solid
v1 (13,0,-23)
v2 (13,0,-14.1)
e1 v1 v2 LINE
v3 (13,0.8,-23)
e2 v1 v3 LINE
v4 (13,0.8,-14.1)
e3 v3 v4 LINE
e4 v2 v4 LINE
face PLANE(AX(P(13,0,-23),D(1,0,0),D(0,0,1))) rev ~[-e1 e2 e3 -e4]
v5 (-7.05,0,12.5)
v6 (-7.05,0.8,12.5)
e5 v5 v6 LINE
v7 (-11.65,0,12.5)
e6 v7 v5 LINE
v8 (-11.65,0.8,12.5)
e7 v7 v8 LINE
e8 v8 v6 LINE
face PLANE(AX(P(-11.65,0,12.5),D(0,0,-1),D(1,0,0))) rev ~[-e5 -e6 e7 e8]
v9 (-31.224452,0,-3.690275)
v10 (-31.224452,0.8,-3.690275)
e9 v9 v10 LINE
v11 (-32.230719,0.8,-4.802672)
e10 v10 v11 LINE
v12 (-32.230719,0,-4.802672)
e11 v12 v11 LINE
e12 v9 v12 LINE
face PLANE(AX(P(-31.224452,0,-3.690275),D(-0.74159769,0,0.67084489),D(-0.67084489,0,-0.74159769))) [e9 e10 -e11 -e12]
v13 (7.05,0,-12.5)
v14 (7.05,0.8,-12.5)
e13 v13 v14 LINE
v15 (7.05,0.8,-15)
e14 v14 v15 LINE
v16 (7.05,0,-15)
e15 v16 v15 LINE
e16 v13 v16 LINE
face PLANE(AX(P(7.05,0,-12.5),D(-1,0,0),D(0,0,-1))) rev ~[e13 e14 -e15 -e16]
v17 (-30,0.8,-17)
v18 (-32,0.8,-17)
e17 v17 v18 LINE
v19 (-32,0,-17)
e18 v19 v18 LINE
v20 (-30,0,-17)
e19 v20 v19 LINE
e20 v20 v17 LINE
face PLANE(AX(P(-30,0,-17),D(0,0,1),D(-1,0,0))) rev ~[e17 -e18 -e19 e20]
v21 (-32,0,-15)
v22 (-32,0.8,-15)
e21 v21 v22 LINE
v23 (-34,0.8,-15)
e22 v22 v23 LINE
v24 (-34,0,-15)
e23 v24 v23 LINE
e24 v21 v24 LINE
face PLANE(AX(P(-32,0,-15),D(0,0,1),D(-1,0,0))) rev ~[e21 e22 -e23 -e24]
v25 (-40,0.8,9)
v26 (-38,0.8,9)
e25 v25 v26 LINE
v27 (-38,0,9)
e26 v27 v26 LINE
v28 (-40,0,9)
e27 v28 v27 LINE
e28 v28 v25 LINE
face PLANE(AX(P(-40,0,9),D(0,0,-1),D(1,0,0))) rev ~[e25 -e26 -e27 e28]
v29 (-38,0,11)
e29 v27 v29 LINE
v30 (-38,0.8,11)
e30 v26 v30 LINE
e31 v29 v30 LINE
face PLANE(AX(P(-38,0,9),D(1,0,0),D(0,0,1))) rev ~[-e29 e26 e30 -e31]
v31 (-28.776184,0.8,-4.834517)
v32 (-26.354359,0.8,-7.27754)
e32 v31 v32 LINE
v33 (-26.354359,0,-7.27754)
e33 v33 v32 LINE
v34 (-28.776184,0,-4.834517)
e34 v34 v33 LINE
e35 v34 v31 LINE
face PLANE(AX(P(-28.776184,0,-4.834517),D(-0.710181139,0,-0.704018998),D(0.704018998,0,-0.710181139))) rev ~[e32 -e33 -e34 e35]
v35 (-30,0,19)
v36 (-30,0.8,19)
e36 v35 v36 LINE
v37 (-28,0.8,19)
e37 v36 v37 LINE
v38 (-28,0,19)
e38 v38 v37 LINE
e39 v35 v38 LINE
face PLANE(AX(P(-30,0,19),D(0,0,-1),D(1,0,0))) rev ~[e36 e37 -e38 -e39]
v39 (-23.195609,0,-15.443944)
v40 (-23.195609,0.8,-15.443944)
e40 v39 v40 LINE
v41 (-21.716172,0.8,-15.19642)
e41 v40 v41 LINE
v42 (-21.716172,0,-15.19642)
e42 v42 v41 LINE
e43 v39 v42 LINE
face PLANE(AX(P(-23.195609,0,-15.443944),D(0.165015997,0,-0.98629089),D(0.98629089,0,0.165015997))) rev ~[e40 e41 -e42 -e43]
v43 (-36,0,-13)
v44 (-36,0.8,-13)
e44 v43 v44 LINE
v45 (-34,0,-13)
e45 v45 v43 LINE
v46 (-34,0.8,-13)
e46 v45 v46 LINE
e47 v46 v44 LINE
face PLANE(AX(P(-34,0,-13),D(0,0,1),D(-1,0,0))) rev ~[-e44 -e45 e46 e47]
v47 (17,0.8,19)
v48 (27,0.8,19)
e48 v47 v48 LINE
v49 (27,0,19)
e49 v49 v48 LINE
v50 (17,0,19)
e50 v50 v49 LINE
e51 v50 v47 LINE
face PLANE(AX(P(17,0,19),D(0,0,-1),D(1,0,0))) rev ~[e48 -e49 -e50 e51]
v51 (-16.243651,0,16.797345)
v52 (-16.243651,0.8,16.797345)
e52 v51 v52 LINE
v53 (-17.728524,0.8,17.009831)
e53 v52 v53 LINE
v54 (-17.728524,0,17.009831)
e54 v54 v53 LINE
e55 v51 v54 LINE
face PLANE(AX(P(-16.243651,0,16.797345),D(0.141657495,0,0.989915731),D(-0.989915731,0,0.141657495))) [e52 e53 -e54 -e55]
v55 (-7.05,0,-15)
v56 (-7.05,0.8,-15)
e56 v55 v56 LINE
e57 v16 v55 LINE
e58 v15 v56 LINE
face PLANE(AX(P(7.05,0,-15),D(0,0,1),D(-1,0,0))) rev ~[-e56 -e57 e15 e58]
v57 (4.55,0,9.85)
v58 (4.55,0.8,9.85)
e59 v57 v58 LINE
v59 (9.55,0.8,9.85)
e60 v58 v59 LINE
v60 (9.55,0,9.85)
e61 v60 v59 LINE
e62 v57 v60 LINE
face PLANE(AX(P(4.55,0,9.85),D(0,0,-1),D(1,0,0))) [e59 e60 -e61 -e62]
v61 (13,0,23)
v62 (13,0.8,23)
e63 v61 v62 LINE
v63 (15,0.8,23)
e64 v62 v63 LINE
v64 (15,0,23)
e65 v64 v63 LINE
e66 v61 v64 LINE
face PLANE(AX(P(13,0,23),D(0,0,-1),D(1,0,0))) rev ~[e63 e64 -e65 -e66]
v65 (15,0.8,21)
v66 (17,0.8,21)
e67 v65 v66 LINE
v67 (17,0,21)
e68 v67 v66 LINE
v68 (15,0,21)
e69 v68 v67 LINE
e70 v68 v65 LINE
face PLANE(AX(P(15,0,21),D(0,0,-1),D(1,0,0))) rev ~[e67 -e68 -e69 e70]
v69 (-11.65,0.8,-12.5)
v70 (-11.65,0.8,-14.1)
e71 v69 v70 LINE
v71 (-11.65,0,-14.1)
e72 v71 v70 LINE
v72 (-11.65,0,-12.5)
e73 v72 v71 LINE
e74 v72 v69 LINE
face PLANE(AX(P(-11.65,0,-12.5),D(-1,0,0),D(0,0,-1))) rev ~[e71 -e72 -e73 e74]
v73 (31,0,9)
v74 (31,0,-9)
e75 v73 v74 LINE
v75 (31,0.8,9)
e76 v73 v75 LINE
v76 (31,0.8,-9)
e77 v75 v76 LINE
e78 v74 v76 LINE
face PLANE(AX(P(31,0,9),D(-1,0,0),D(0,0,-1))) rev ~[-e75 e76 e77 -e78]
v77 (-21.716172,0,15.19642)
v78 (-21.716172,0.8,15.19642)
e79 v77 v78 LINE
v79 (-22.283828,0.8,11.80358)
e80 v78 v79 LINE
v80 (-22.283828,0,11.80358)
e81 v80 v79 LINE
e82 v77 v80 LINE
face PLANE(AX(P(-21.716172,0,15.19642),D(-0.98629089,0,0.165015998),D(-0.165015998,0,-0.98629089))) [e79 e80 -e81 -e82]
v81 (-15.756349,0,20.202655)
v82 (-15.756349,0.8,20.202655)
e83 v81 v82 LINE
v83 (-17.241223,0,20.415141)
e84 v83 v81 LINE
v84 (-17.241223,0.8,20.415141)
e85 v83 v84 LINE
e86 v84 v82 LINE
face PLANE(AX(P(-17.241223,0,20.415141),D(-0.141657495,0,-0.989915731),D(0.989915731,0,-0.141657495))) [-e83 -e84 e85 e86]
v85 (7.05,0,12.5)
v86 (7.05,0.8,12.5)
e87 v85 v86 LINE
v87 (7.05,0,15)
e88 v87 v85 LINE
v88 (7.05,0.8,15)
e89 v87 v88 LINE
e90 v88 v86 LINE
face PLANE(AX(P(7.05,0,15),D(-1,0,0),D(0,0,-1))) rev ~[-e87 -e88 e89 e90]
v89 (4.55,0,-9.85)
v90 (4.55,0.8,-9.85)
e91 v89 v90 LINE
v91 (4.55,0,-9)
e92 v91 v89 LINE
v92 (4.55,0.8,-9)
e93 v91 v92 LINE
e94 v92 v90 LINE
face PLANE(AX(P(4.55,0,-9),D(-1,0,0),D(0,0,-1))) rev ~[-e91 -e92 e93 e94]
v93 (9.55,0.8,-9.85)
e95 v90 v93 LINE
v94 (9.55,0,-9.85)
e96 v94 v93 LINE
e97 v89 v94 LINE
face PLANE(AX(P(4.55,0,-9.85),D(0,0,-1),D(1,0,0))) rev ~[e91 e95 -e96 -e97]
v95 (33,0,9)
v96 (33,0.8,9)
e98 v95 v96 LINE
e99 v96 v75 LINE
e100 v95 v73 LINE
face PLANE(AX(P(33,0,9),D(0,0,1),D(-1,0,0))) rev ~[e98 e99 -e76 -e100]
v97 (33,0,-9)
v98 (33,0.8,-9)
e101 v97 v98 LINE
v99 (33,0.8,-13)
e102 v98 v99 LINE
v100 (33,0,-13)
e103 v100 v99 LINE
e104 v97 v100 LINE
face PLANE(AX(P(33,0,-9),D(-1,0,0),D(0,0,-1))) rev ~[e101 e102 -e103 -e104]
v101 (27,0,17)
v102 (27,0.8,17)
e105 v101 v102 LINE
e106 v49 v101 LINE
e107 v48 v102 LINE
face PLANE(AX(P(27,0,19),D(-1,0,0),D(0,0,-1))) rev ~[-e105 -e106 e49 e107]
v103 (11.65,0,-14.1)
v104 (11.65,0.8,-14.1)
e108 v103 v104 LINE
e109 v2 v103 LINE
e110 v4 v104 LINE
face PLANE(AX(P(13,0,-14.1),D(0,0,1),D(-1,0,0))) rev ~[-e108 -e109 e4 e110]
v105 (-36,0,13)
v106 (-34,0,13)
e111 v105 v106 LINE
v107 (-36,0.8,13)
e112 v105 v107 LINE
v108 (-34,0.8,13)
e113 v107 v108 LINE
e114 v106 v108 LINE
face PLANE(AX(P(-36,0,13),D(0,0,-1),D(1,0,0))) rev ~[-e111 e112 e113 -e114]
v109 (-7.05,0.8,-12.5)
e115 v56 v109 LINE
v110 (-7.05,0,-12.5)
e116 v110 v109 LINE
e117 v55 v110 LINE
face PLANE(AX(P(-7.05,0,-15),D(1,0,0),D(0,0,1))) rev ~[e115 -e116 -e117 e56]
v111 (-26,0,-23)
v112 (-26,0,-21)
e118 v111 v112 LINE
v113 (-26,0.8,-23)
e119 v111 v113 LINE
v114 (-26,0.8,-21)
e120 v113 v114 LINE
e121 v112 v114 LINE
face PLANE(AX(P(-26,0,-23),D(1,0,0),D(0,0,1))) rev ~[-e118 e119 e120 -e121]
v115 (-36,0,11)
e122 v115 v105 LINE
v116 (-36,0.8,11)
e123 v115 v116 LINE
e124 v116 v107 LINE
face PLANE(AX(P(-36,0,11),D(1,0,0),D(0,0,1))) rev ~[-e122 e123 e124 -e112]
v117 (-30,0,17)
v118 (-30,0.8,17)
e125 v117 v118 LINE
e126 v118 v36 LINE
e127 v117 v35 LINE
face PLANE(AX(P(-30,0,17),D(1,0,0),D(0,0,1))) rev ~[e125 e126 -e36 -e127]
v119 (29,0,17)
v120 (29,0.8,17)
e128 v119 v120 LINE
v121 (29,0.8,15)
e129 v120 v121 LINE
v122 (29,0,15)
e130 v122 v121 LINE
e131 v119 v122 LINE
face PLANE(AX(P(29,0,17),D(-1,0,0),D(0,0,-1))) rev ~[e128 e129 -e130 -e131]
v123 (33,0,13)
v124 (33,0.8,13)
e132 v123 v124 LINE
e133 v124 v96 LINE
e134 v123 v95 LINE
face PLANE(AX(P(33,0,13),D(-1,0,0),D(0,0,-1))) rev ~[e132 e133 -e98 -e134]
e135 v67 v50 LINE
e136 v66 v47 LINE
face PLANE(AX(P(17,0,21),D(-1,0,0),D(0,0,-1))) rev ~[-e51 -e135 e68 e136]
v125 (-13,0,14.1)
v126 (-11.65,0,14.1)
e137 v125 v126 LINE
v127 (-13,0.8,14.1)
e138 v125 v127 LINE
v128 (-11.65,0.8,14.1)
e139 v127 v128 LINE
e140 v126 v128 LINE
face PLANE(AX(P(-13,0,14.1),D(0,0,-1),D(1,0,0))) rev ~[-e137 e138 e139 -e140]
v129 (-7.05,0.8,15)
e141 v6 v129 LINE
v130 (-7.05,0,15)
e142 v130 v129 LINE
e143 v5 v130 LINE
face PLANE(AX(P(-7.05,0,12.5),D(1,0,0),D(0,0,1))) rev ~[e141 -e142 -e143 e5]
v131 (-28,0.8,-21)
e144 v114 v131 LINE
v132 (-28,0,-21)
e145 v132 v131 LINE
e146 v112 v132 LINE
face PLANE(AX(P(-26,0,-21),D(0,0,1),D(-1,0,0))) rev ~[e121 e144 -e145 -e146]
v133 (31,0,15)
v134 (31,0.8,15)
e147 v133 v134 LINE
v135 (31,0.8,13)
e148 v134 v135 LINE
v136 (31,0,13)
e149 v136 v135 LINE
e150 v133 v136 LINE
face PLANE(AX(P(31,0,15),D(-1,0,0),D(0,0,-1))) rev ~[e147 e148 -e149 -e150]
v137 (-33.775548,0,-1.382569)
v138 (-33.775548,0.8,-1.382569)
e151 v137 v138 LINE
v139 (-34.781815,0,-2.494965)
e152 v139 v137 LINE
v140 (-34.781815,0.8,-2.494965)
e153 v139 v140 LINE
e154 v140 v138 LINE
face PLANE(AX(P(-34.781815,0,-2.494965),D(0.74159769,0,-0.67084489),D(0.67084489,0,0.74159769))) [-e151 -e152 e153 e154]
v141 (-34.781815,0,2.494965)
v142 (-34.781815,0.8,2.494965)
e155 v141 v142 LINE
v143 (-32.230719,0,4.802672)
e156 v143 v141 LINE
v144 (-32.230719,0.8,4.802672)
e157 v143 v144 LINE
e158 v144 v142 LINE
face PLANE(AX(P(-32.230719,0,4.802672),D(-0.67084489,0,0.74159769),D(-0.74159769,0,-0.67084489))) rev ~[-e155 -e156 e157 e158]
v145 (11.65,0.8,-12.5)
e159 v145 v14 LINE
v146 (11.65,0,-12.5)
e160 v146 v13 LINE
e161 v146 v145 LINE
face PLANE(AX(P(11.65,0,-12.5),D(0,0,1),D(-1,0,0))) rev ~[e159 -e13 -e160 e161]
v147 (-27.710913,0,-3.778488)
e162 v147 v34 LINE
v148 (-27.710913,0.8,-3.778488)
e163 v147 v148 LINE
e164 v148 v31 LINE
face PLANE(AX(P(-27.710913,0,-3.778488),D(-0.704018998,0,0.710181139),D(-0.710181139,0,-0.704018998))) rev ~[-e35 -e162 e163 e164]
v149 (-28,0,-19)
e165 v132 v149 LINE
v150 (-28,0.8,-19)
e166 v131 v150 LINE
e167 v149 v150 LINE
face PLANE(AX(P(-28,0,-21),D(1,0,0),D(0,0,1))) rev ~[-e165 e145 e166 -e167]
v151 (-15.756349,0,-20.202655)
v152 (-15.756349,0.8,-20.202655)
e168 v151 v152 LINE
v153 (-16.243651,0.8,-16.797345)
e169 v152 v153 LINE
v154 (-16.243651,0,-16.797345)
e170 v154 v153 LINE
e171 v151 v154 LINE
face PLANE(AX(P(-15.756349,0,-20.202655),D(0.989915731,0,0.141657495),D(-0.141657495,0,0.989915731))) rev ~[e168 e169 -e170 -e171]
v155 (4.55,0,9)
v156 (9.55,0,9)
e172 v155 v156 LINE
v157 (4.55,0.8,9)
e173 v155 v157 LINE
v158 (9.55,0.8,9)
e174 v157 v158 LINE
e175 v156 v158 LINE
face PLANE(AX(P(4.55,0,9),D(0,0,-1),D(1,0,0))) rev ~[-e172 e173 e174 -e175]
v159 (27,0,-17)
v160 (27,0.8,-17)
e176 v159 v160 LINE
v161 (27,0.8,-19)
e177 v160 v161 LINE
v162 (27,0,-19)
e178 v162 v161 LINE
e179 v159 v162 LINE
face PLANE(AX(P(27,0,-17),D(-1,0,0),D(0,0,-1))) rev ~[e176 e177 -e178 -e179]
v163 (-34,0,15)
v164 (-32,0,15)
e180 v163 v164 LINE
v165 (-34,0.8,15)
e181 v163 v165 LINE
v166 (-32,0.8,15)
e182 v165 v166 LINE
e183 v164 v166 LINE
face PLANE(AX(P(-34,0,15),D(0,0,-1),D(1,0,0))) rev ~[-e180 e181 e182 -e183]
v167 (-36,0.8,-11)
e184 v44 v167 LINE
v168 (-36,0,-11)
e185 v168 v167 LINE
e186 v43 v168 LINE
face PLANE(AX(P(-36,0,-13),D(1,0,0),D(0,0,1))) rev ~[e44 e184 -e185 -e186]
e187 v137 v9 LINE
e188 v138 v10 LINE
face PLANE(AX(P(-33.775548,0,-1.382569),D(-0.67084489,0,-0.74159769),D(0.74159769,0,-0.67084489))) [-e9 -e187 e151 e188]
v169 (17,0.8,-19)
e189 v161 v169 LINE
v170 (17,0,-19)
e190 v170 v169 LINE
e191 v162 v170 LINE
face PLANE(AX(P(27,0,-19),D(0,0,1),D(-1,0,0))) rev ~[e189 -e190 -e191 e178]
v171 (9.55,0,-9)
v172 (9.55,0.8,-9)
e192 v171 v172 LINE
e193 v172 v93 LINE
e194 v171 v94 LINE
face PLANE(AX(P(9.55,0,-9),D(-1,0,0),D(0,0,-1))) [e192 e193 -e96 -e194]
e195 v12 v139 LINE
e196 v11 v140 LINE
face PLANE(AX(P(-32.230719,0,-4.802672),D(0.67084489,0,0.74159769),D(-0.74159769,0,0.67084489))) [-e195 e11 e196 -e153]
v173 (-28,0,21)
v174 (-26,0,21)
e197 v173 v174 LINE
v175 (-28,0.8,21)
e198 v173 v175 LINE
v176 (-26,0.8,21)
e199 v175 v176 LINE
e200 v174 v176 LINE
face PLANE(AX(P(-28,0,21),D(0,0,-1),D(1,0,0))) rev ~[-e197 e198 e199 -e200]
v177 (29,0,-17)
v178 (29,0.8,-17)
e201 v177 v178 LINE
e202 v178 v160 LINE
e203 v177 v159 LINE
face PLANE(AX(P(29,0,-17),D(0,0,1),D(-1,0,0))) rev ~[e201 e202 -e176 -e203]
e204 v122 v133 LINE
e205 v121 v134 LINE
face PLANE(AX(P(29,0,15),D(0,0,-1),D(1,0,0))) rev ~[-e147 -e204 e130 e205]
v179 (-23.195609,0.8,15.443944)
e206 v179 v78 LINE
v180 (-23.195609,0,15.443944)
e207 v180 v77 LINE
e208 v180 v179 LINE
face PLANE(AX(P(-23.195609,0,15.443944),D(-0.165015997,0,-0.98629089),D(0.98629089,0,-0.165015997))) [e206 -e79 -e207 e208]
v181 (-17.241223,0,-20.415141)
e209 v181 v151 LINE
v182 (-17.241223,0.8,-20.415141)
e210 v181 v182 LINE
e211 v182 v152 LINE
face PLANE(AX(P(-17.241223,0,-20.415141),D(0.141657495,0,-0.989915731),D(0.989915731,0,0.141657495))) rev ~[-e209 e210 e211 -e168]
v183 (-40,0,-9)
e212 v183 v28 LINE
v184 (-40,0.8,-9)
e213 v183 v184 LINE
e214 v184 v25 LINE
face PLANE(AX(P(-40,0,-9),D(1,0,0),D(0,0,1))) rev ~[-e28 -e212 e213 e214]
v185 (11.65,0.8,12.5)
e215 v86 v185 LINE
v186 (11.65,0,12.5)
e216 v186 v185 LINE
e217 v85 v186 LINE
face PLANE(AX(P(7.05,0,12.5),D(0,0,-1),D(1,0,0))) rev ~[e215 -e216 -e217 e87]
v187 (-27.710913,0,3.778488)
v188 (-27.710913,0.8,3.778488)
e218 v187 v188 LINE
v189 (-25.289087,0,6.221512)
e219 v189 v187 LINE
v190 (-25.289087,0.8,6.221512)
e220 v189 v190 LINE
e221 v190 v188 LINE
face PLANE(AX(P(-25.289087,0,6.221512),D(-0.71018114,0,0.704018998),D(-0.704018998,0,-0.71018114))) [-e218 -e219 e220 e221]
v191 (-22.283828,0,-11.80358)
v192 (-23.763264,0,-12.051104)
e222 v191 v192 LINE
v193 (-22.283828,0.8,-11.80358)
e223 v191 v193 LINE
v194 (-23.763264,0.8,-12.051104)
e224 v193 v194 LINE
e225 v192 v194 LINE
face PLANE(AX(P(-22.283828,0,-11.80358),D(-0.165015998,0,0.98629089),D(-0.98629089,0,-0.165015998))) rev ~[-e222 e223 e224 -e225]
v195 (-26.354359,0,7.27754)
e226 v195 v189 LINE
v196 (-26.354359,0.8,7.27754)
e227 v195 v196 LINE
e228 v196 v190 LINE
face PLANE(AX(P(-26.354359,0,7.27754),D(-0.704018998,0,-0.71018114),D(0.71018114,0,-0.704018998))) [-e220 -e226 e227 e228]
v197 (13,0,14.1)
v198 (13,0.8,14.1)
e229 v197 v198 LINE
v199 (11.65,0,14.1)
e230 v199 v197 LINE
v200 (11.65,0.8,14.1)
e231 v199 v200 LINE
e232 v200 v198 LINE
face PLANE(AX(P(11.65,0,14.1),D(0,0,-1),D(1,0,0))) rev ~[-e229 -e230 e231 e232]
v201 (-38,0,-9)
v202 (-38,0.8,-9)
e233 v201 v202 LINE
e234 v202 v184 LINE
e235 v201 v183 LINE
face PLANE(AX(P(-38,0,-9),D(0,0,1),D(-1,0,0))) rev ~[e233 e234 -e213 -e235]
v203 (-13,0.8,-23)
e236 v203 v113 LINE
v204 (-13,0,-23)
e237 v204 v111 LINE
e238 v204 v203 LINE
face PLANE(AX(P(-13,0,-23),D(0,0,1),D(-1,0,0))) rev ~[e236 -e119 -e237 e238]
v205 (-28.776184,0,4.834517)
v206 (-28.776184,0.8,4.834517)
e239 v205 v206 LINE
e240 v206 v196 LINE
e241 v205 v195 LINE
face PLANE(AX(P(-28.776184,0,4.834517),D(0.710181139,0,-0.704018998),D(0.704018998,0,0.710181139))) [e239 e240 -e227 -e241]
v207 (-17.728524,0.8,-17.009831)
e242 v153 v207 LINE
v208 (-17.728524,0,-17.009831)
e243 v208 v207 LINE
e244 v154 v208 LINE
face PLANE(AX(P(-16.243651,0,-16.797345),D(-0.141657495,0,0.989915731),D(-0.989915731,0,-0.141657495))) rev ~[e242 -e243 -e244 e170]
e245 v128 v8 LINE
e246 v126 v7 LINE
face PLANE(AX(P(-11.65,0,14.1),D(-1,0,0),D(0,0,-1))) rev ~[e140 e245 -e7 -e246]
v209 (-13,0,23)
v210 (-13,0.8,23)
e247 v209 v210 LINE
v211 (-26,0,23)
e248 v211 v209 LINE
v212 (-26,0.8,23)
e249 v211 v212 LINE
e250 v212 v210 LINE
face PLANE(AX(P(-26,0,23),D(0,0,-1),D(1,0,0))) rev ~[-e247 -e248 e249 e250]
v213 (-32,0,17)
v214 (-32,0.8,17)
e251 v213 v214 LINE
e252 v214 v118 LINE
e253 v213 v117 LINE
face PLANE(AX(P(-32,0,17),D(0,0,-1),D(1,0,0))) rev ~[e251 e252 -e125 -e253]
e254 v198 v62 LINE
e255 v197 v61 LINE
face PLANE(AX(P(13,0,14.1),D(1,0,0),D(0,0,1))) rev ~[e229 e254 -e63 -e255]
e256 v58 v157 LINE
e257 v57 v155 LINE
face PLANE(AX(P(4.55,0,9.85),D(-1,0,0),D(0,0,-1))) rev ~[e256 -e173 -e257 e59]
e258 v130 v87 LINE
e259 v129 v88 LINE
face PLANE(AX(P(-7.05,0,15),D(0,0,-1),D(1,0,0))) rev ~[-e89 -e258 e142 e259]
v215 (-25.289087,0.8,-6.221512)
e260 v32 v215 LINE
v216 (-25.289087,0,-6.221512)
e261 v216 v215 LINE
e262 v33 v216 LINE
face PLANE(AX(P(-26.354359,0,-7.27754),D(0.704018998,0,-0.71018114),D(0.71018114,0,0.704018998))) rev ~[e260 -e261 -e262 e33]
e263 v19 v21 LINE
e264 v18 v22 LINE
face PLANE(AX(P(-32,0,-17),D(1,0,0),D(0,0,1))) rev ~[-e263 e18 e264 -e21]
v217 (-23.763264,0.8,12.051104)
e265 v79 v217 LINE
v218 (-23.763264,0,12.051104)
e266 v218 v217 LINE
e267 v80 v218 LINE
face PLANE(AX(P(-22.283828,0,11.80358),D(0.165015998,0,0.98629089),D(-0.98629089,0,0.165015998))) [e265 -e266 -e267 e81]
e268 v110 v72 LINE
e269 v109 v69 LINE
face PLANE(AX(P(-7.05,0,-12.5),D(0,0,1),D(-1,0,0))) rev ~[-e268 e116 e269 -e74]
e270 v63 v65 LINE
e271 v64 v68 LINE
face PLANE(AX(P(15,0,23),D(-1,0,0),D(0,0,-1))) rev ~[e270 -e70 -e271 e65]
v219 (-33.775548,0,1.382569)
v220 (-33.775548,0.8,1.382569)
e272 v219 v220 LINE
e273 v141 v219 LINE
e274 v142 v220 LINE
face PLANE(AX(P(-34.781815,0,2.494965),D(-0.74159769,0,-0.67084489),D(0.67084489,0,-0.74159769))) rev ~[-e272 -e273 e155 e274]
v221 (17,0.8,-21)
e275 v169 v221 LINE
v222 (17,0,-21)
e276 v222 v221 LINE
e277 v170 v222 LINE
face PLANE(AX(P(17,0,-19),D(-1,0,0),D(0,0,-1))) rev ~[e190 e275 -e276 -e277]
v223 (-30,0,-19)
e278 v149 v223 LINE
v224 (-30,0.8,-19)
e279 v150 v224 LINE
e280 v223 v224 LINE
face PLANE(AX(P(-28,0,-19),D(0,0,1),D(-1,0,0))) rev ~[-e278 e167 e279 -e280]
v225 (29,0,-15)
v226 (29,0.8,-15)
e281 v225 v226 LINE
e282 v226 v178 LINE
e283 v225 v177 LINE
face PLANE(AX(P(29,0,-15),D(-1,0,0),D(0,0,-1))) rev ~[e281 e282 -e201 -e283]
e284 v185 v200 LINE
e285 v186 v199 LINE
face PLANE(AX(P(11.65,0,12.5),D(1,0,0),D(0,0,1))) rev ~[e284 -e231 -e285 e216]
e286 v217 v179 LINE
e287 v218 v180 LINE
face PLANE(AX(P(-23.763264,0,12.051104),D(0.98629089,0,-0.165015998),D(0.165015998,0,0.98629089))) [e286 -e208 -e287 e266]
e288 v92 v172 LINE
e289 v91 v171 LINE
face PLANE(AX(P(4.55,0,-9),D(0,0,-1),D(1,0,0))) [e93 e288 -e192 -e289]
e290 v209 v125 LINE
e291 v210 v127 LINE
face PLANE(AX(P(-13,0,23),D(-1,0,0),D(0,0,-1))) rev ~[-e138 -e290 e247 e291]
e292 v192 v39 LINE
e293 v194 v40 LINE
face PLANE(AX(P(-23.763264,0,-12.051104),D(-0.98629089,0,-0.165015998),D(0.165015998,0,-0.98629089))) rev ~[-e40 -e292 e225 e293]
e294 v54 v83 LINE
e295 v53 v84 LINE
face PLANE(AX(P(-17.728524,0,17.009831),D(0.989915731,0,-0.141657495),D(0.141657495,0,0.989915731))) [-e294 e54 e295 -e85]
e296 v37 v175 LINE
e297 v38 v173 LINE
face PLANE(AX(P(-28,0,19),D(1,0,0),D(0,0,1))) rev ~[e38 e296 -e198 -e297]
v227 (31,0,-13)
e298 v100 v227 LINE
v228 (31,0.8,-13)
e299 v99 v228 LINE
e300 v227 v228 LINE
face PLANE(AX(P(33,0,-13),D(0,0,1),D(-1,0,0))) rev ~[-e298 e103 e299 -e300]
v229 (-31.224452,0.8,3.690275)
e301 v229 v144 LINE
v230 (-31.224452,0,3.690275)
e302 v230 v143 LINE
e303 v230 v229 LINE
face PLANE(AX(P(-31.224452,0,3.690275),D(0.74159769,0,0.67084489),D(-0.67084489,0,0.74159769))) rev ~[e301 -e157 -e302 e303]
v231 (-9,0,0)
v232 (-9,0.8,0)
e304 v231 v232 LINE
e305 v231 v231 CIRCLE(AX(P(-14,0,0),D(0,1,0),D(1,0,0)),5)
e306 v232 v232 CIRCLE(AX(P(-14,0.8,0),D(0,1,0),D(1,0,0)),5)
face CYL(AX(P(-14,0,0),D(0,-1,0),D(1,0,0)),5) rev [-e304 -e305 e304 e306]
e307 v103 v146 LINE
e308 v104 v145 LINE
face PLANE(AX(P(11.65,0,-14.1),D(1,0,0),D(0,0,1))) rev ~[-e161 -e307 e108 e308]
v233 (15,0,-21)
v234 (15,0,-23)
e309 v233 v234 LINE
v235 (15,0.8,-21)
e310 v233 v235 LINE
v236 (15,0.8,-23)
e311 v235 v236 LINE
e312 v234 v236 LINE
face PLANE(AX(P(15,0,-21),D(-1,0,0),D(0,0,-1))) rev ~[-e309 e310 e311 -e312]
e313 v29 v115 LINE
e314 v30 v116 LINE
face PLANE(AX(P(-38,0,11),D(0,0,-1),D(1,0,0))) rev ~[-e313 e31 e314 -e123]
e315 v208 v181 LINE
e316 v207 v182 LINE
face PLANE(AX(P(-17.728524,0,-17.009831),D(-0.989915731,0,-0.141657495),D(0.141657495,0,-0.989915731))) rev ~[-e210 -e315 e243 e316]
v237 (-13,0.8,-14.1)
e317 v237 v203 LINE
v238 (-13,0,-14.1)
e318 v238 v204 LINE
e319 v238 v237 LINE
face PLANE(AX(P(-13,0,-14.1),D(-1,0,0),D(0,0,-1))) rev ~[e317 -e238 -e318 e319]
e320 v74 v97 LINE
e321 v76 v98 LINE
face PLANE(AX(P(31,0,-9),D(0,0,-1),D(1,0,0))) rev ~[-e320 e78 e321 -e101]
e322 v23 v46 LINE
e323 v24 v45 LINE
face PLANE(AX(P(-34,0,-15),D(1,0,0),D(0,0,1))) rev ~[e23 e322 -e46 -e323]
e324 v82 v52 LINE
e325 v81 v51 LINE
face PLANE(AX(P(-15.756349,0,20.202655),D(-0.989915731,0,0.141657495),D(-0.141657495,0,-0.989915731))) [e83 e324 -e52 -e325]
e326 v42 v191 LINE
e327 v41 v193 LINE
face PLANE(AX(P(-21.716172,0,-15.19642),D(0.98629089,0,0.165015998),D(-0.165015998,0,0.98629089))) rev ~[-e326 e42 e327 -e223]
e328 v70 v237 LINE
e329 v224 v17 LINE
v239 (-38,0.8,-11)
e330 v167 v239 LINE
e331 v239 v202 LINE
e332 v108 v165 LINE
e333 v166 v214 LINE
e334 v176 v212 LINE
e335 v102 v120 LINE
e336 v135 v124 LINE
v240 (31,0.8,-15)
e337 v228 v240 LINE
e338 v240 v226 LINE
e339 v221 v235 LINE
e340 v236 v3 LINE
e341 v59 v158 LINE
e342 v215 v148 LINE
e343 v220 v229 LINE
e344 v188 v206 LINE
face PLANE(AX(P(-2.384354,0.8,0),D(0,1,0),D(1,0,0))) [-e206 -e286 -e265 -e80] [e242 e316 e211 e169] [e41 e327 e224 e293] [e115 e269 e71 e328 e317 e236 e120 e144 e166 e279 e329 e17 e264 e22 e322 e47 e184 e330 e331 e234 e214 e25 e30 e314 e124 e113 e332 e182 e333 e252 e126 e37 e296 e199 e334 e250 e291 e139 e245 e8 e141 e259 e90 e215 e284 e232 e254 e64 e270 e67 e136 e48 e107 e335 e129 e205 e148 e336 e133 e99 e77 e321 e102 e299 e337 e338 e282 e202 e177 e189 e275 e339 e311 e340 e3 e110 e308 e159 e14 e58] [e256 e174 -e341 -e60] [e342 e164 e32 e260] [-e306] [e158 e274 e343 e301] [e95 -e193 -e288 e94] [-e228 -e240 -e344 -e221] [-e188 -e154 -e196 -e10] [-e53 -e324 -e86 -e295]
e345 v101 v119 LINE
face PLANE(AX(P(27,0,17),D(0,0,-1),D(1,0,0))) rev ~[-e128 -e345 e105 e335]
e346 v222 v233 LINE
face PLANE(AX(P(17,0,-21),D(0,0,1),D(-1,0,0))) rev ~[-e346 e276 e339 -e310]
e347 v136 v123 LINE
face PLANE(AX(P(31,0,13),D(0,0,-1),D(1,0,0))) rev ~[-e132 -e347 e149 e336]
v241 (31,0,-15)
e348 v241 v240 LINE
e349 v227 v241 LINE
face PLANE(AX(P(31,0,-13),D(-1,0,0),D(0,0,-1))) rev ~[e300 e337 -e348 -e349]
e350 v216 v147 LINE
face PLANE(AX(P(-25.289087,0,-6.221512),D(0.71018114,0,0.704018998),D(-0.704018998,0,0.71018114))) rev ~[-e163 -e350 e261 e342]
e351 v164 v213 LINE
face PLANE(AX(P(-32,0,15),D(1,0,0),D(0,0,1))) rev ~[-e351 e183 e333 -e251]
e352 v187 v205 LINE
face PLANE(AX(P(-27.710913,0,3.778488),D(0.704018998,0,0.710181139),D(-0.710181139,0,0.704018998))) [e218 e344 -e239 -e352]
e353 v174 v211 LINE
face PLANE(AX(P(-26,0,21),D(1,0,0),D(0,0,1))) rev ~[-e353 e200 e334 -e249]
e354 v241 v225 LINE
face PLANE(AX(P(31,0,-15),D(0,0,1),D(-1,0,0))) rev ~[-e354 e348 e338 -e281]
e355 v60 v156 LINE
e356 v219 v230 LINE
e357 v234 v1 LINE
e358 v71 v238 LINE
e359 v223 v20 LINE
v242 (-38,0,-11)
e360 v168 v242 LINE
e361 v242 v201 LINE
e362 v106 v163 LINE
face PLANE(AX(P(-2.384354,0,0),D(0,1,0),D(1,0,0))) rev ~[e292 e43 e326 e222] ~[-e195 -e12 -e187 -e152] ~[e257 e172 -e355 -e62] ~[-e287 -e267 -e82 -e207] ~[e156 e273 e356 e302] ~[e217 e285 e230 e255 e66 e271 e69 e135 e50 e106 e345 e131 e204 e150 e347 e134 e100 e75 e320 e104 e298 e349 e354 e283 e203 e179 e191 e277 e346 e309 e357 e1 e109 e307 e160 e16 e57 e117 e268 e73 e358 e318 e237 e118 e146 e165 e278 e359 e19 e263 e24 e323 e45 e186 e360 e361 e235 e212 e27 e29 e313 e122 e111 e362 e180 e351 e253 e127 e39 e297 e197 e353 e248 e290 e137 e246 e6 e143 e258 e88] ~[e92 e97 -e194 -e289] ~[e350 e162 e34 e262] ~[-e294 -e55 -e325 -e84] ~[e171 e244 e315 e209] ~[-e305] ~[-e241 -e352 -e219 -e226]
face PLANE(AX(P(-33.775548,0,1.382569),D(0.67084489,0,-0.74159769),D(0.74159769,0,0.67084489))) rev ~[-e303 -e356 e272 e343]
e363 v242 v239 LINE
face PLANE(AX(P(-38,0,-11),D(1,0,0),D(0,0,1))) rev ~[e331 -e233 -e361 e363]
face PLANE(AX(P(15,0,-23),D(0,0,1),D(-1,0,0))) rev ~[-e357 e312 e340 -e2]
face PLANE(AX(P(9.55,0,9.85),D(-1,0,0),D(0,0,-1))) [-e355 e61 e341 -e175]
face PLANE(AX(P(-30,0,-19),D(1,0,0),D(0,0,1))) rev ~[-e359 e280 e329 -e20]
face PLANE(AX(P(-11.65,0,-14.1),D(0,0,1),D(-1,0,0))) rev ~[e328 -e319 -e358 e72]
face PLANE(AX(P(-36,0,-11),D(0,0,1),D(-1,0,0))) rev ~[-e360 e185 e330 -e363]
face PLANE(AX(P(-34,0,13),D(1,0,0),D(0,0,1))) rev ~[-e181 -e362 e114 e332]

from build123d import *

# Parameters (mm, degrees)
SKETCH_5_R      = 5
SKETCH_5_W      = 5
SKETCH_5_H      = 0.85
EXTRUDE_1_DEPTH = 0.8


with BuildPart() as part:
    # 스케치5 → 보스-돌출1 (new body)
    with BuildSketch(Plane(origin=(0, 0, 0), x_dir=(1, 0, 0), z_dir=(0, 1, 0))):
        Polygon((-13, -23), (-13, -14.1), (-11.65, -14.1), (-11.65, -12.5), (-7.05, -12.5), (-7.05, -14.1), (-7.05, -15), (7.05, -15), (7.05, -14.1), (7.05, -12.5), (11.65, -12.5), (11.65, -14.1), (13, -14.1), (13, -23), (15, -23), (15, -21), (17, -21), (17, -19), (27, -19), (27, -17), (29, -17), (29, -15), (31, -15), (31, -13), (33, -13), (33, -9), (31, -9), (31, 9), (33, 9), (33, 13), (31, 13), (31, 15), (29, 15), (29, 17), (27, 17), (27, 19), (17, 19), (17, 21), (15, 21), (15, 23), (13, 23), (13, 14.1), (11.65, 14.1), (11.65, 12.5), (7.05, 12.5), (7.05, 14.1), (7.05, 15), (-7.05, 15), (-7.05, 14.1), (-7.05, 12.5), (-11.65, 12.5), (-11.65, 14.1), (-13, 14.1), (-13, 23), (-26, 23), (-26, 21), (-28, 21), (-28, 19), (-30, 19), (-30, 17), (-32, 17), (-32, 15), (-34, 15), (-34, 13), (-36, 13), (-36, 11), (-38, 11), (-38, 9), (-40, 9), (-40, -9), (-38, -9), (-38, -11), (-36, -11), (-36, -13), (-34, -13), (-34, -15), (-32, -15), (-32, -17), (-30, -17), (-30, -19), (-28, -19), (-28, -21), (-26, -21), (-26, -23), align=None)
        with Locations((-14, 0)):
            Circle(SKETCH_5_R, mode=Mode.SUBTRACT)
        Polygon((-17.728524487, -17.009831185), (-17.241222705, -20.415141299), (-15.756349109, -20.202655057), (-16.243650891, -16.797344943), align=None, mode=Mode.SUBTRACT)
        Polygon((-23.763263852, -12.051103665), (-23.19560882, -15.443944328), (-21.716172484, -15.196420332), (-22.283827516, -11.803579668), align=None, mode=Mode.SUBTRACT)
        Polygon((-28.776184385, -4.834516937), (-26.354359033, -7.277540056), (-25.289087324, -6.22151156), (-27.710912676, -3.77848844), align=None, mode=Mode.SUBTRACT)
        Polygon((-32.230719309, -4.802671603), (-34.781815362, -2.494965181), (-33.775548026, -1.382568646), (-31.224451974, -3.690275068), align=None, mode=Mode.SUBTRACT)
        Polygon((-17.241222705, 20.415141299), (-15.756349109, 20.202655057), (-16.243650891, 16.797344943), (-17.728524487, 17.009831185), align=None, mode=Mode.SUBTRACT)
        Polygon((-23.19560882, 15.443944328), (-21.716172484, 15.196420332), (-22.283827516, 11.803579668), (-23.763263852, 12.051103665), align=None, mode=Mode.SUBTRACT)
        Polygon((-26.354359033, 7.277540056), (-25.289087324, 6.22151156), (-27.710912676, 3.77848844), (-28.776184385, 4.834516937), align=None, mode=Mode.SUBTRACT)
        Polygon((-34.781815362, 2.494965181), (-33.775548026, 1.382568646), (-31.224451974, 3.690275068), (-32.230719309, 4.802671603), align=None, mode=Mode.SUBTRACT)
        with Locations((7.05, 9.425)):
            Rectangle(SKETCH_5_W, SKETCH_5_H, mode=Mode.SUBTRACT)
        with Locations((7.05, -9.425)):
            Rectangle(SKETCH_5_W, SKETCH_5_H, mode=Mode.SUBTRACT)
    extrude(amount=EXTRUDE_1_DEPTH)


solid = part.part
